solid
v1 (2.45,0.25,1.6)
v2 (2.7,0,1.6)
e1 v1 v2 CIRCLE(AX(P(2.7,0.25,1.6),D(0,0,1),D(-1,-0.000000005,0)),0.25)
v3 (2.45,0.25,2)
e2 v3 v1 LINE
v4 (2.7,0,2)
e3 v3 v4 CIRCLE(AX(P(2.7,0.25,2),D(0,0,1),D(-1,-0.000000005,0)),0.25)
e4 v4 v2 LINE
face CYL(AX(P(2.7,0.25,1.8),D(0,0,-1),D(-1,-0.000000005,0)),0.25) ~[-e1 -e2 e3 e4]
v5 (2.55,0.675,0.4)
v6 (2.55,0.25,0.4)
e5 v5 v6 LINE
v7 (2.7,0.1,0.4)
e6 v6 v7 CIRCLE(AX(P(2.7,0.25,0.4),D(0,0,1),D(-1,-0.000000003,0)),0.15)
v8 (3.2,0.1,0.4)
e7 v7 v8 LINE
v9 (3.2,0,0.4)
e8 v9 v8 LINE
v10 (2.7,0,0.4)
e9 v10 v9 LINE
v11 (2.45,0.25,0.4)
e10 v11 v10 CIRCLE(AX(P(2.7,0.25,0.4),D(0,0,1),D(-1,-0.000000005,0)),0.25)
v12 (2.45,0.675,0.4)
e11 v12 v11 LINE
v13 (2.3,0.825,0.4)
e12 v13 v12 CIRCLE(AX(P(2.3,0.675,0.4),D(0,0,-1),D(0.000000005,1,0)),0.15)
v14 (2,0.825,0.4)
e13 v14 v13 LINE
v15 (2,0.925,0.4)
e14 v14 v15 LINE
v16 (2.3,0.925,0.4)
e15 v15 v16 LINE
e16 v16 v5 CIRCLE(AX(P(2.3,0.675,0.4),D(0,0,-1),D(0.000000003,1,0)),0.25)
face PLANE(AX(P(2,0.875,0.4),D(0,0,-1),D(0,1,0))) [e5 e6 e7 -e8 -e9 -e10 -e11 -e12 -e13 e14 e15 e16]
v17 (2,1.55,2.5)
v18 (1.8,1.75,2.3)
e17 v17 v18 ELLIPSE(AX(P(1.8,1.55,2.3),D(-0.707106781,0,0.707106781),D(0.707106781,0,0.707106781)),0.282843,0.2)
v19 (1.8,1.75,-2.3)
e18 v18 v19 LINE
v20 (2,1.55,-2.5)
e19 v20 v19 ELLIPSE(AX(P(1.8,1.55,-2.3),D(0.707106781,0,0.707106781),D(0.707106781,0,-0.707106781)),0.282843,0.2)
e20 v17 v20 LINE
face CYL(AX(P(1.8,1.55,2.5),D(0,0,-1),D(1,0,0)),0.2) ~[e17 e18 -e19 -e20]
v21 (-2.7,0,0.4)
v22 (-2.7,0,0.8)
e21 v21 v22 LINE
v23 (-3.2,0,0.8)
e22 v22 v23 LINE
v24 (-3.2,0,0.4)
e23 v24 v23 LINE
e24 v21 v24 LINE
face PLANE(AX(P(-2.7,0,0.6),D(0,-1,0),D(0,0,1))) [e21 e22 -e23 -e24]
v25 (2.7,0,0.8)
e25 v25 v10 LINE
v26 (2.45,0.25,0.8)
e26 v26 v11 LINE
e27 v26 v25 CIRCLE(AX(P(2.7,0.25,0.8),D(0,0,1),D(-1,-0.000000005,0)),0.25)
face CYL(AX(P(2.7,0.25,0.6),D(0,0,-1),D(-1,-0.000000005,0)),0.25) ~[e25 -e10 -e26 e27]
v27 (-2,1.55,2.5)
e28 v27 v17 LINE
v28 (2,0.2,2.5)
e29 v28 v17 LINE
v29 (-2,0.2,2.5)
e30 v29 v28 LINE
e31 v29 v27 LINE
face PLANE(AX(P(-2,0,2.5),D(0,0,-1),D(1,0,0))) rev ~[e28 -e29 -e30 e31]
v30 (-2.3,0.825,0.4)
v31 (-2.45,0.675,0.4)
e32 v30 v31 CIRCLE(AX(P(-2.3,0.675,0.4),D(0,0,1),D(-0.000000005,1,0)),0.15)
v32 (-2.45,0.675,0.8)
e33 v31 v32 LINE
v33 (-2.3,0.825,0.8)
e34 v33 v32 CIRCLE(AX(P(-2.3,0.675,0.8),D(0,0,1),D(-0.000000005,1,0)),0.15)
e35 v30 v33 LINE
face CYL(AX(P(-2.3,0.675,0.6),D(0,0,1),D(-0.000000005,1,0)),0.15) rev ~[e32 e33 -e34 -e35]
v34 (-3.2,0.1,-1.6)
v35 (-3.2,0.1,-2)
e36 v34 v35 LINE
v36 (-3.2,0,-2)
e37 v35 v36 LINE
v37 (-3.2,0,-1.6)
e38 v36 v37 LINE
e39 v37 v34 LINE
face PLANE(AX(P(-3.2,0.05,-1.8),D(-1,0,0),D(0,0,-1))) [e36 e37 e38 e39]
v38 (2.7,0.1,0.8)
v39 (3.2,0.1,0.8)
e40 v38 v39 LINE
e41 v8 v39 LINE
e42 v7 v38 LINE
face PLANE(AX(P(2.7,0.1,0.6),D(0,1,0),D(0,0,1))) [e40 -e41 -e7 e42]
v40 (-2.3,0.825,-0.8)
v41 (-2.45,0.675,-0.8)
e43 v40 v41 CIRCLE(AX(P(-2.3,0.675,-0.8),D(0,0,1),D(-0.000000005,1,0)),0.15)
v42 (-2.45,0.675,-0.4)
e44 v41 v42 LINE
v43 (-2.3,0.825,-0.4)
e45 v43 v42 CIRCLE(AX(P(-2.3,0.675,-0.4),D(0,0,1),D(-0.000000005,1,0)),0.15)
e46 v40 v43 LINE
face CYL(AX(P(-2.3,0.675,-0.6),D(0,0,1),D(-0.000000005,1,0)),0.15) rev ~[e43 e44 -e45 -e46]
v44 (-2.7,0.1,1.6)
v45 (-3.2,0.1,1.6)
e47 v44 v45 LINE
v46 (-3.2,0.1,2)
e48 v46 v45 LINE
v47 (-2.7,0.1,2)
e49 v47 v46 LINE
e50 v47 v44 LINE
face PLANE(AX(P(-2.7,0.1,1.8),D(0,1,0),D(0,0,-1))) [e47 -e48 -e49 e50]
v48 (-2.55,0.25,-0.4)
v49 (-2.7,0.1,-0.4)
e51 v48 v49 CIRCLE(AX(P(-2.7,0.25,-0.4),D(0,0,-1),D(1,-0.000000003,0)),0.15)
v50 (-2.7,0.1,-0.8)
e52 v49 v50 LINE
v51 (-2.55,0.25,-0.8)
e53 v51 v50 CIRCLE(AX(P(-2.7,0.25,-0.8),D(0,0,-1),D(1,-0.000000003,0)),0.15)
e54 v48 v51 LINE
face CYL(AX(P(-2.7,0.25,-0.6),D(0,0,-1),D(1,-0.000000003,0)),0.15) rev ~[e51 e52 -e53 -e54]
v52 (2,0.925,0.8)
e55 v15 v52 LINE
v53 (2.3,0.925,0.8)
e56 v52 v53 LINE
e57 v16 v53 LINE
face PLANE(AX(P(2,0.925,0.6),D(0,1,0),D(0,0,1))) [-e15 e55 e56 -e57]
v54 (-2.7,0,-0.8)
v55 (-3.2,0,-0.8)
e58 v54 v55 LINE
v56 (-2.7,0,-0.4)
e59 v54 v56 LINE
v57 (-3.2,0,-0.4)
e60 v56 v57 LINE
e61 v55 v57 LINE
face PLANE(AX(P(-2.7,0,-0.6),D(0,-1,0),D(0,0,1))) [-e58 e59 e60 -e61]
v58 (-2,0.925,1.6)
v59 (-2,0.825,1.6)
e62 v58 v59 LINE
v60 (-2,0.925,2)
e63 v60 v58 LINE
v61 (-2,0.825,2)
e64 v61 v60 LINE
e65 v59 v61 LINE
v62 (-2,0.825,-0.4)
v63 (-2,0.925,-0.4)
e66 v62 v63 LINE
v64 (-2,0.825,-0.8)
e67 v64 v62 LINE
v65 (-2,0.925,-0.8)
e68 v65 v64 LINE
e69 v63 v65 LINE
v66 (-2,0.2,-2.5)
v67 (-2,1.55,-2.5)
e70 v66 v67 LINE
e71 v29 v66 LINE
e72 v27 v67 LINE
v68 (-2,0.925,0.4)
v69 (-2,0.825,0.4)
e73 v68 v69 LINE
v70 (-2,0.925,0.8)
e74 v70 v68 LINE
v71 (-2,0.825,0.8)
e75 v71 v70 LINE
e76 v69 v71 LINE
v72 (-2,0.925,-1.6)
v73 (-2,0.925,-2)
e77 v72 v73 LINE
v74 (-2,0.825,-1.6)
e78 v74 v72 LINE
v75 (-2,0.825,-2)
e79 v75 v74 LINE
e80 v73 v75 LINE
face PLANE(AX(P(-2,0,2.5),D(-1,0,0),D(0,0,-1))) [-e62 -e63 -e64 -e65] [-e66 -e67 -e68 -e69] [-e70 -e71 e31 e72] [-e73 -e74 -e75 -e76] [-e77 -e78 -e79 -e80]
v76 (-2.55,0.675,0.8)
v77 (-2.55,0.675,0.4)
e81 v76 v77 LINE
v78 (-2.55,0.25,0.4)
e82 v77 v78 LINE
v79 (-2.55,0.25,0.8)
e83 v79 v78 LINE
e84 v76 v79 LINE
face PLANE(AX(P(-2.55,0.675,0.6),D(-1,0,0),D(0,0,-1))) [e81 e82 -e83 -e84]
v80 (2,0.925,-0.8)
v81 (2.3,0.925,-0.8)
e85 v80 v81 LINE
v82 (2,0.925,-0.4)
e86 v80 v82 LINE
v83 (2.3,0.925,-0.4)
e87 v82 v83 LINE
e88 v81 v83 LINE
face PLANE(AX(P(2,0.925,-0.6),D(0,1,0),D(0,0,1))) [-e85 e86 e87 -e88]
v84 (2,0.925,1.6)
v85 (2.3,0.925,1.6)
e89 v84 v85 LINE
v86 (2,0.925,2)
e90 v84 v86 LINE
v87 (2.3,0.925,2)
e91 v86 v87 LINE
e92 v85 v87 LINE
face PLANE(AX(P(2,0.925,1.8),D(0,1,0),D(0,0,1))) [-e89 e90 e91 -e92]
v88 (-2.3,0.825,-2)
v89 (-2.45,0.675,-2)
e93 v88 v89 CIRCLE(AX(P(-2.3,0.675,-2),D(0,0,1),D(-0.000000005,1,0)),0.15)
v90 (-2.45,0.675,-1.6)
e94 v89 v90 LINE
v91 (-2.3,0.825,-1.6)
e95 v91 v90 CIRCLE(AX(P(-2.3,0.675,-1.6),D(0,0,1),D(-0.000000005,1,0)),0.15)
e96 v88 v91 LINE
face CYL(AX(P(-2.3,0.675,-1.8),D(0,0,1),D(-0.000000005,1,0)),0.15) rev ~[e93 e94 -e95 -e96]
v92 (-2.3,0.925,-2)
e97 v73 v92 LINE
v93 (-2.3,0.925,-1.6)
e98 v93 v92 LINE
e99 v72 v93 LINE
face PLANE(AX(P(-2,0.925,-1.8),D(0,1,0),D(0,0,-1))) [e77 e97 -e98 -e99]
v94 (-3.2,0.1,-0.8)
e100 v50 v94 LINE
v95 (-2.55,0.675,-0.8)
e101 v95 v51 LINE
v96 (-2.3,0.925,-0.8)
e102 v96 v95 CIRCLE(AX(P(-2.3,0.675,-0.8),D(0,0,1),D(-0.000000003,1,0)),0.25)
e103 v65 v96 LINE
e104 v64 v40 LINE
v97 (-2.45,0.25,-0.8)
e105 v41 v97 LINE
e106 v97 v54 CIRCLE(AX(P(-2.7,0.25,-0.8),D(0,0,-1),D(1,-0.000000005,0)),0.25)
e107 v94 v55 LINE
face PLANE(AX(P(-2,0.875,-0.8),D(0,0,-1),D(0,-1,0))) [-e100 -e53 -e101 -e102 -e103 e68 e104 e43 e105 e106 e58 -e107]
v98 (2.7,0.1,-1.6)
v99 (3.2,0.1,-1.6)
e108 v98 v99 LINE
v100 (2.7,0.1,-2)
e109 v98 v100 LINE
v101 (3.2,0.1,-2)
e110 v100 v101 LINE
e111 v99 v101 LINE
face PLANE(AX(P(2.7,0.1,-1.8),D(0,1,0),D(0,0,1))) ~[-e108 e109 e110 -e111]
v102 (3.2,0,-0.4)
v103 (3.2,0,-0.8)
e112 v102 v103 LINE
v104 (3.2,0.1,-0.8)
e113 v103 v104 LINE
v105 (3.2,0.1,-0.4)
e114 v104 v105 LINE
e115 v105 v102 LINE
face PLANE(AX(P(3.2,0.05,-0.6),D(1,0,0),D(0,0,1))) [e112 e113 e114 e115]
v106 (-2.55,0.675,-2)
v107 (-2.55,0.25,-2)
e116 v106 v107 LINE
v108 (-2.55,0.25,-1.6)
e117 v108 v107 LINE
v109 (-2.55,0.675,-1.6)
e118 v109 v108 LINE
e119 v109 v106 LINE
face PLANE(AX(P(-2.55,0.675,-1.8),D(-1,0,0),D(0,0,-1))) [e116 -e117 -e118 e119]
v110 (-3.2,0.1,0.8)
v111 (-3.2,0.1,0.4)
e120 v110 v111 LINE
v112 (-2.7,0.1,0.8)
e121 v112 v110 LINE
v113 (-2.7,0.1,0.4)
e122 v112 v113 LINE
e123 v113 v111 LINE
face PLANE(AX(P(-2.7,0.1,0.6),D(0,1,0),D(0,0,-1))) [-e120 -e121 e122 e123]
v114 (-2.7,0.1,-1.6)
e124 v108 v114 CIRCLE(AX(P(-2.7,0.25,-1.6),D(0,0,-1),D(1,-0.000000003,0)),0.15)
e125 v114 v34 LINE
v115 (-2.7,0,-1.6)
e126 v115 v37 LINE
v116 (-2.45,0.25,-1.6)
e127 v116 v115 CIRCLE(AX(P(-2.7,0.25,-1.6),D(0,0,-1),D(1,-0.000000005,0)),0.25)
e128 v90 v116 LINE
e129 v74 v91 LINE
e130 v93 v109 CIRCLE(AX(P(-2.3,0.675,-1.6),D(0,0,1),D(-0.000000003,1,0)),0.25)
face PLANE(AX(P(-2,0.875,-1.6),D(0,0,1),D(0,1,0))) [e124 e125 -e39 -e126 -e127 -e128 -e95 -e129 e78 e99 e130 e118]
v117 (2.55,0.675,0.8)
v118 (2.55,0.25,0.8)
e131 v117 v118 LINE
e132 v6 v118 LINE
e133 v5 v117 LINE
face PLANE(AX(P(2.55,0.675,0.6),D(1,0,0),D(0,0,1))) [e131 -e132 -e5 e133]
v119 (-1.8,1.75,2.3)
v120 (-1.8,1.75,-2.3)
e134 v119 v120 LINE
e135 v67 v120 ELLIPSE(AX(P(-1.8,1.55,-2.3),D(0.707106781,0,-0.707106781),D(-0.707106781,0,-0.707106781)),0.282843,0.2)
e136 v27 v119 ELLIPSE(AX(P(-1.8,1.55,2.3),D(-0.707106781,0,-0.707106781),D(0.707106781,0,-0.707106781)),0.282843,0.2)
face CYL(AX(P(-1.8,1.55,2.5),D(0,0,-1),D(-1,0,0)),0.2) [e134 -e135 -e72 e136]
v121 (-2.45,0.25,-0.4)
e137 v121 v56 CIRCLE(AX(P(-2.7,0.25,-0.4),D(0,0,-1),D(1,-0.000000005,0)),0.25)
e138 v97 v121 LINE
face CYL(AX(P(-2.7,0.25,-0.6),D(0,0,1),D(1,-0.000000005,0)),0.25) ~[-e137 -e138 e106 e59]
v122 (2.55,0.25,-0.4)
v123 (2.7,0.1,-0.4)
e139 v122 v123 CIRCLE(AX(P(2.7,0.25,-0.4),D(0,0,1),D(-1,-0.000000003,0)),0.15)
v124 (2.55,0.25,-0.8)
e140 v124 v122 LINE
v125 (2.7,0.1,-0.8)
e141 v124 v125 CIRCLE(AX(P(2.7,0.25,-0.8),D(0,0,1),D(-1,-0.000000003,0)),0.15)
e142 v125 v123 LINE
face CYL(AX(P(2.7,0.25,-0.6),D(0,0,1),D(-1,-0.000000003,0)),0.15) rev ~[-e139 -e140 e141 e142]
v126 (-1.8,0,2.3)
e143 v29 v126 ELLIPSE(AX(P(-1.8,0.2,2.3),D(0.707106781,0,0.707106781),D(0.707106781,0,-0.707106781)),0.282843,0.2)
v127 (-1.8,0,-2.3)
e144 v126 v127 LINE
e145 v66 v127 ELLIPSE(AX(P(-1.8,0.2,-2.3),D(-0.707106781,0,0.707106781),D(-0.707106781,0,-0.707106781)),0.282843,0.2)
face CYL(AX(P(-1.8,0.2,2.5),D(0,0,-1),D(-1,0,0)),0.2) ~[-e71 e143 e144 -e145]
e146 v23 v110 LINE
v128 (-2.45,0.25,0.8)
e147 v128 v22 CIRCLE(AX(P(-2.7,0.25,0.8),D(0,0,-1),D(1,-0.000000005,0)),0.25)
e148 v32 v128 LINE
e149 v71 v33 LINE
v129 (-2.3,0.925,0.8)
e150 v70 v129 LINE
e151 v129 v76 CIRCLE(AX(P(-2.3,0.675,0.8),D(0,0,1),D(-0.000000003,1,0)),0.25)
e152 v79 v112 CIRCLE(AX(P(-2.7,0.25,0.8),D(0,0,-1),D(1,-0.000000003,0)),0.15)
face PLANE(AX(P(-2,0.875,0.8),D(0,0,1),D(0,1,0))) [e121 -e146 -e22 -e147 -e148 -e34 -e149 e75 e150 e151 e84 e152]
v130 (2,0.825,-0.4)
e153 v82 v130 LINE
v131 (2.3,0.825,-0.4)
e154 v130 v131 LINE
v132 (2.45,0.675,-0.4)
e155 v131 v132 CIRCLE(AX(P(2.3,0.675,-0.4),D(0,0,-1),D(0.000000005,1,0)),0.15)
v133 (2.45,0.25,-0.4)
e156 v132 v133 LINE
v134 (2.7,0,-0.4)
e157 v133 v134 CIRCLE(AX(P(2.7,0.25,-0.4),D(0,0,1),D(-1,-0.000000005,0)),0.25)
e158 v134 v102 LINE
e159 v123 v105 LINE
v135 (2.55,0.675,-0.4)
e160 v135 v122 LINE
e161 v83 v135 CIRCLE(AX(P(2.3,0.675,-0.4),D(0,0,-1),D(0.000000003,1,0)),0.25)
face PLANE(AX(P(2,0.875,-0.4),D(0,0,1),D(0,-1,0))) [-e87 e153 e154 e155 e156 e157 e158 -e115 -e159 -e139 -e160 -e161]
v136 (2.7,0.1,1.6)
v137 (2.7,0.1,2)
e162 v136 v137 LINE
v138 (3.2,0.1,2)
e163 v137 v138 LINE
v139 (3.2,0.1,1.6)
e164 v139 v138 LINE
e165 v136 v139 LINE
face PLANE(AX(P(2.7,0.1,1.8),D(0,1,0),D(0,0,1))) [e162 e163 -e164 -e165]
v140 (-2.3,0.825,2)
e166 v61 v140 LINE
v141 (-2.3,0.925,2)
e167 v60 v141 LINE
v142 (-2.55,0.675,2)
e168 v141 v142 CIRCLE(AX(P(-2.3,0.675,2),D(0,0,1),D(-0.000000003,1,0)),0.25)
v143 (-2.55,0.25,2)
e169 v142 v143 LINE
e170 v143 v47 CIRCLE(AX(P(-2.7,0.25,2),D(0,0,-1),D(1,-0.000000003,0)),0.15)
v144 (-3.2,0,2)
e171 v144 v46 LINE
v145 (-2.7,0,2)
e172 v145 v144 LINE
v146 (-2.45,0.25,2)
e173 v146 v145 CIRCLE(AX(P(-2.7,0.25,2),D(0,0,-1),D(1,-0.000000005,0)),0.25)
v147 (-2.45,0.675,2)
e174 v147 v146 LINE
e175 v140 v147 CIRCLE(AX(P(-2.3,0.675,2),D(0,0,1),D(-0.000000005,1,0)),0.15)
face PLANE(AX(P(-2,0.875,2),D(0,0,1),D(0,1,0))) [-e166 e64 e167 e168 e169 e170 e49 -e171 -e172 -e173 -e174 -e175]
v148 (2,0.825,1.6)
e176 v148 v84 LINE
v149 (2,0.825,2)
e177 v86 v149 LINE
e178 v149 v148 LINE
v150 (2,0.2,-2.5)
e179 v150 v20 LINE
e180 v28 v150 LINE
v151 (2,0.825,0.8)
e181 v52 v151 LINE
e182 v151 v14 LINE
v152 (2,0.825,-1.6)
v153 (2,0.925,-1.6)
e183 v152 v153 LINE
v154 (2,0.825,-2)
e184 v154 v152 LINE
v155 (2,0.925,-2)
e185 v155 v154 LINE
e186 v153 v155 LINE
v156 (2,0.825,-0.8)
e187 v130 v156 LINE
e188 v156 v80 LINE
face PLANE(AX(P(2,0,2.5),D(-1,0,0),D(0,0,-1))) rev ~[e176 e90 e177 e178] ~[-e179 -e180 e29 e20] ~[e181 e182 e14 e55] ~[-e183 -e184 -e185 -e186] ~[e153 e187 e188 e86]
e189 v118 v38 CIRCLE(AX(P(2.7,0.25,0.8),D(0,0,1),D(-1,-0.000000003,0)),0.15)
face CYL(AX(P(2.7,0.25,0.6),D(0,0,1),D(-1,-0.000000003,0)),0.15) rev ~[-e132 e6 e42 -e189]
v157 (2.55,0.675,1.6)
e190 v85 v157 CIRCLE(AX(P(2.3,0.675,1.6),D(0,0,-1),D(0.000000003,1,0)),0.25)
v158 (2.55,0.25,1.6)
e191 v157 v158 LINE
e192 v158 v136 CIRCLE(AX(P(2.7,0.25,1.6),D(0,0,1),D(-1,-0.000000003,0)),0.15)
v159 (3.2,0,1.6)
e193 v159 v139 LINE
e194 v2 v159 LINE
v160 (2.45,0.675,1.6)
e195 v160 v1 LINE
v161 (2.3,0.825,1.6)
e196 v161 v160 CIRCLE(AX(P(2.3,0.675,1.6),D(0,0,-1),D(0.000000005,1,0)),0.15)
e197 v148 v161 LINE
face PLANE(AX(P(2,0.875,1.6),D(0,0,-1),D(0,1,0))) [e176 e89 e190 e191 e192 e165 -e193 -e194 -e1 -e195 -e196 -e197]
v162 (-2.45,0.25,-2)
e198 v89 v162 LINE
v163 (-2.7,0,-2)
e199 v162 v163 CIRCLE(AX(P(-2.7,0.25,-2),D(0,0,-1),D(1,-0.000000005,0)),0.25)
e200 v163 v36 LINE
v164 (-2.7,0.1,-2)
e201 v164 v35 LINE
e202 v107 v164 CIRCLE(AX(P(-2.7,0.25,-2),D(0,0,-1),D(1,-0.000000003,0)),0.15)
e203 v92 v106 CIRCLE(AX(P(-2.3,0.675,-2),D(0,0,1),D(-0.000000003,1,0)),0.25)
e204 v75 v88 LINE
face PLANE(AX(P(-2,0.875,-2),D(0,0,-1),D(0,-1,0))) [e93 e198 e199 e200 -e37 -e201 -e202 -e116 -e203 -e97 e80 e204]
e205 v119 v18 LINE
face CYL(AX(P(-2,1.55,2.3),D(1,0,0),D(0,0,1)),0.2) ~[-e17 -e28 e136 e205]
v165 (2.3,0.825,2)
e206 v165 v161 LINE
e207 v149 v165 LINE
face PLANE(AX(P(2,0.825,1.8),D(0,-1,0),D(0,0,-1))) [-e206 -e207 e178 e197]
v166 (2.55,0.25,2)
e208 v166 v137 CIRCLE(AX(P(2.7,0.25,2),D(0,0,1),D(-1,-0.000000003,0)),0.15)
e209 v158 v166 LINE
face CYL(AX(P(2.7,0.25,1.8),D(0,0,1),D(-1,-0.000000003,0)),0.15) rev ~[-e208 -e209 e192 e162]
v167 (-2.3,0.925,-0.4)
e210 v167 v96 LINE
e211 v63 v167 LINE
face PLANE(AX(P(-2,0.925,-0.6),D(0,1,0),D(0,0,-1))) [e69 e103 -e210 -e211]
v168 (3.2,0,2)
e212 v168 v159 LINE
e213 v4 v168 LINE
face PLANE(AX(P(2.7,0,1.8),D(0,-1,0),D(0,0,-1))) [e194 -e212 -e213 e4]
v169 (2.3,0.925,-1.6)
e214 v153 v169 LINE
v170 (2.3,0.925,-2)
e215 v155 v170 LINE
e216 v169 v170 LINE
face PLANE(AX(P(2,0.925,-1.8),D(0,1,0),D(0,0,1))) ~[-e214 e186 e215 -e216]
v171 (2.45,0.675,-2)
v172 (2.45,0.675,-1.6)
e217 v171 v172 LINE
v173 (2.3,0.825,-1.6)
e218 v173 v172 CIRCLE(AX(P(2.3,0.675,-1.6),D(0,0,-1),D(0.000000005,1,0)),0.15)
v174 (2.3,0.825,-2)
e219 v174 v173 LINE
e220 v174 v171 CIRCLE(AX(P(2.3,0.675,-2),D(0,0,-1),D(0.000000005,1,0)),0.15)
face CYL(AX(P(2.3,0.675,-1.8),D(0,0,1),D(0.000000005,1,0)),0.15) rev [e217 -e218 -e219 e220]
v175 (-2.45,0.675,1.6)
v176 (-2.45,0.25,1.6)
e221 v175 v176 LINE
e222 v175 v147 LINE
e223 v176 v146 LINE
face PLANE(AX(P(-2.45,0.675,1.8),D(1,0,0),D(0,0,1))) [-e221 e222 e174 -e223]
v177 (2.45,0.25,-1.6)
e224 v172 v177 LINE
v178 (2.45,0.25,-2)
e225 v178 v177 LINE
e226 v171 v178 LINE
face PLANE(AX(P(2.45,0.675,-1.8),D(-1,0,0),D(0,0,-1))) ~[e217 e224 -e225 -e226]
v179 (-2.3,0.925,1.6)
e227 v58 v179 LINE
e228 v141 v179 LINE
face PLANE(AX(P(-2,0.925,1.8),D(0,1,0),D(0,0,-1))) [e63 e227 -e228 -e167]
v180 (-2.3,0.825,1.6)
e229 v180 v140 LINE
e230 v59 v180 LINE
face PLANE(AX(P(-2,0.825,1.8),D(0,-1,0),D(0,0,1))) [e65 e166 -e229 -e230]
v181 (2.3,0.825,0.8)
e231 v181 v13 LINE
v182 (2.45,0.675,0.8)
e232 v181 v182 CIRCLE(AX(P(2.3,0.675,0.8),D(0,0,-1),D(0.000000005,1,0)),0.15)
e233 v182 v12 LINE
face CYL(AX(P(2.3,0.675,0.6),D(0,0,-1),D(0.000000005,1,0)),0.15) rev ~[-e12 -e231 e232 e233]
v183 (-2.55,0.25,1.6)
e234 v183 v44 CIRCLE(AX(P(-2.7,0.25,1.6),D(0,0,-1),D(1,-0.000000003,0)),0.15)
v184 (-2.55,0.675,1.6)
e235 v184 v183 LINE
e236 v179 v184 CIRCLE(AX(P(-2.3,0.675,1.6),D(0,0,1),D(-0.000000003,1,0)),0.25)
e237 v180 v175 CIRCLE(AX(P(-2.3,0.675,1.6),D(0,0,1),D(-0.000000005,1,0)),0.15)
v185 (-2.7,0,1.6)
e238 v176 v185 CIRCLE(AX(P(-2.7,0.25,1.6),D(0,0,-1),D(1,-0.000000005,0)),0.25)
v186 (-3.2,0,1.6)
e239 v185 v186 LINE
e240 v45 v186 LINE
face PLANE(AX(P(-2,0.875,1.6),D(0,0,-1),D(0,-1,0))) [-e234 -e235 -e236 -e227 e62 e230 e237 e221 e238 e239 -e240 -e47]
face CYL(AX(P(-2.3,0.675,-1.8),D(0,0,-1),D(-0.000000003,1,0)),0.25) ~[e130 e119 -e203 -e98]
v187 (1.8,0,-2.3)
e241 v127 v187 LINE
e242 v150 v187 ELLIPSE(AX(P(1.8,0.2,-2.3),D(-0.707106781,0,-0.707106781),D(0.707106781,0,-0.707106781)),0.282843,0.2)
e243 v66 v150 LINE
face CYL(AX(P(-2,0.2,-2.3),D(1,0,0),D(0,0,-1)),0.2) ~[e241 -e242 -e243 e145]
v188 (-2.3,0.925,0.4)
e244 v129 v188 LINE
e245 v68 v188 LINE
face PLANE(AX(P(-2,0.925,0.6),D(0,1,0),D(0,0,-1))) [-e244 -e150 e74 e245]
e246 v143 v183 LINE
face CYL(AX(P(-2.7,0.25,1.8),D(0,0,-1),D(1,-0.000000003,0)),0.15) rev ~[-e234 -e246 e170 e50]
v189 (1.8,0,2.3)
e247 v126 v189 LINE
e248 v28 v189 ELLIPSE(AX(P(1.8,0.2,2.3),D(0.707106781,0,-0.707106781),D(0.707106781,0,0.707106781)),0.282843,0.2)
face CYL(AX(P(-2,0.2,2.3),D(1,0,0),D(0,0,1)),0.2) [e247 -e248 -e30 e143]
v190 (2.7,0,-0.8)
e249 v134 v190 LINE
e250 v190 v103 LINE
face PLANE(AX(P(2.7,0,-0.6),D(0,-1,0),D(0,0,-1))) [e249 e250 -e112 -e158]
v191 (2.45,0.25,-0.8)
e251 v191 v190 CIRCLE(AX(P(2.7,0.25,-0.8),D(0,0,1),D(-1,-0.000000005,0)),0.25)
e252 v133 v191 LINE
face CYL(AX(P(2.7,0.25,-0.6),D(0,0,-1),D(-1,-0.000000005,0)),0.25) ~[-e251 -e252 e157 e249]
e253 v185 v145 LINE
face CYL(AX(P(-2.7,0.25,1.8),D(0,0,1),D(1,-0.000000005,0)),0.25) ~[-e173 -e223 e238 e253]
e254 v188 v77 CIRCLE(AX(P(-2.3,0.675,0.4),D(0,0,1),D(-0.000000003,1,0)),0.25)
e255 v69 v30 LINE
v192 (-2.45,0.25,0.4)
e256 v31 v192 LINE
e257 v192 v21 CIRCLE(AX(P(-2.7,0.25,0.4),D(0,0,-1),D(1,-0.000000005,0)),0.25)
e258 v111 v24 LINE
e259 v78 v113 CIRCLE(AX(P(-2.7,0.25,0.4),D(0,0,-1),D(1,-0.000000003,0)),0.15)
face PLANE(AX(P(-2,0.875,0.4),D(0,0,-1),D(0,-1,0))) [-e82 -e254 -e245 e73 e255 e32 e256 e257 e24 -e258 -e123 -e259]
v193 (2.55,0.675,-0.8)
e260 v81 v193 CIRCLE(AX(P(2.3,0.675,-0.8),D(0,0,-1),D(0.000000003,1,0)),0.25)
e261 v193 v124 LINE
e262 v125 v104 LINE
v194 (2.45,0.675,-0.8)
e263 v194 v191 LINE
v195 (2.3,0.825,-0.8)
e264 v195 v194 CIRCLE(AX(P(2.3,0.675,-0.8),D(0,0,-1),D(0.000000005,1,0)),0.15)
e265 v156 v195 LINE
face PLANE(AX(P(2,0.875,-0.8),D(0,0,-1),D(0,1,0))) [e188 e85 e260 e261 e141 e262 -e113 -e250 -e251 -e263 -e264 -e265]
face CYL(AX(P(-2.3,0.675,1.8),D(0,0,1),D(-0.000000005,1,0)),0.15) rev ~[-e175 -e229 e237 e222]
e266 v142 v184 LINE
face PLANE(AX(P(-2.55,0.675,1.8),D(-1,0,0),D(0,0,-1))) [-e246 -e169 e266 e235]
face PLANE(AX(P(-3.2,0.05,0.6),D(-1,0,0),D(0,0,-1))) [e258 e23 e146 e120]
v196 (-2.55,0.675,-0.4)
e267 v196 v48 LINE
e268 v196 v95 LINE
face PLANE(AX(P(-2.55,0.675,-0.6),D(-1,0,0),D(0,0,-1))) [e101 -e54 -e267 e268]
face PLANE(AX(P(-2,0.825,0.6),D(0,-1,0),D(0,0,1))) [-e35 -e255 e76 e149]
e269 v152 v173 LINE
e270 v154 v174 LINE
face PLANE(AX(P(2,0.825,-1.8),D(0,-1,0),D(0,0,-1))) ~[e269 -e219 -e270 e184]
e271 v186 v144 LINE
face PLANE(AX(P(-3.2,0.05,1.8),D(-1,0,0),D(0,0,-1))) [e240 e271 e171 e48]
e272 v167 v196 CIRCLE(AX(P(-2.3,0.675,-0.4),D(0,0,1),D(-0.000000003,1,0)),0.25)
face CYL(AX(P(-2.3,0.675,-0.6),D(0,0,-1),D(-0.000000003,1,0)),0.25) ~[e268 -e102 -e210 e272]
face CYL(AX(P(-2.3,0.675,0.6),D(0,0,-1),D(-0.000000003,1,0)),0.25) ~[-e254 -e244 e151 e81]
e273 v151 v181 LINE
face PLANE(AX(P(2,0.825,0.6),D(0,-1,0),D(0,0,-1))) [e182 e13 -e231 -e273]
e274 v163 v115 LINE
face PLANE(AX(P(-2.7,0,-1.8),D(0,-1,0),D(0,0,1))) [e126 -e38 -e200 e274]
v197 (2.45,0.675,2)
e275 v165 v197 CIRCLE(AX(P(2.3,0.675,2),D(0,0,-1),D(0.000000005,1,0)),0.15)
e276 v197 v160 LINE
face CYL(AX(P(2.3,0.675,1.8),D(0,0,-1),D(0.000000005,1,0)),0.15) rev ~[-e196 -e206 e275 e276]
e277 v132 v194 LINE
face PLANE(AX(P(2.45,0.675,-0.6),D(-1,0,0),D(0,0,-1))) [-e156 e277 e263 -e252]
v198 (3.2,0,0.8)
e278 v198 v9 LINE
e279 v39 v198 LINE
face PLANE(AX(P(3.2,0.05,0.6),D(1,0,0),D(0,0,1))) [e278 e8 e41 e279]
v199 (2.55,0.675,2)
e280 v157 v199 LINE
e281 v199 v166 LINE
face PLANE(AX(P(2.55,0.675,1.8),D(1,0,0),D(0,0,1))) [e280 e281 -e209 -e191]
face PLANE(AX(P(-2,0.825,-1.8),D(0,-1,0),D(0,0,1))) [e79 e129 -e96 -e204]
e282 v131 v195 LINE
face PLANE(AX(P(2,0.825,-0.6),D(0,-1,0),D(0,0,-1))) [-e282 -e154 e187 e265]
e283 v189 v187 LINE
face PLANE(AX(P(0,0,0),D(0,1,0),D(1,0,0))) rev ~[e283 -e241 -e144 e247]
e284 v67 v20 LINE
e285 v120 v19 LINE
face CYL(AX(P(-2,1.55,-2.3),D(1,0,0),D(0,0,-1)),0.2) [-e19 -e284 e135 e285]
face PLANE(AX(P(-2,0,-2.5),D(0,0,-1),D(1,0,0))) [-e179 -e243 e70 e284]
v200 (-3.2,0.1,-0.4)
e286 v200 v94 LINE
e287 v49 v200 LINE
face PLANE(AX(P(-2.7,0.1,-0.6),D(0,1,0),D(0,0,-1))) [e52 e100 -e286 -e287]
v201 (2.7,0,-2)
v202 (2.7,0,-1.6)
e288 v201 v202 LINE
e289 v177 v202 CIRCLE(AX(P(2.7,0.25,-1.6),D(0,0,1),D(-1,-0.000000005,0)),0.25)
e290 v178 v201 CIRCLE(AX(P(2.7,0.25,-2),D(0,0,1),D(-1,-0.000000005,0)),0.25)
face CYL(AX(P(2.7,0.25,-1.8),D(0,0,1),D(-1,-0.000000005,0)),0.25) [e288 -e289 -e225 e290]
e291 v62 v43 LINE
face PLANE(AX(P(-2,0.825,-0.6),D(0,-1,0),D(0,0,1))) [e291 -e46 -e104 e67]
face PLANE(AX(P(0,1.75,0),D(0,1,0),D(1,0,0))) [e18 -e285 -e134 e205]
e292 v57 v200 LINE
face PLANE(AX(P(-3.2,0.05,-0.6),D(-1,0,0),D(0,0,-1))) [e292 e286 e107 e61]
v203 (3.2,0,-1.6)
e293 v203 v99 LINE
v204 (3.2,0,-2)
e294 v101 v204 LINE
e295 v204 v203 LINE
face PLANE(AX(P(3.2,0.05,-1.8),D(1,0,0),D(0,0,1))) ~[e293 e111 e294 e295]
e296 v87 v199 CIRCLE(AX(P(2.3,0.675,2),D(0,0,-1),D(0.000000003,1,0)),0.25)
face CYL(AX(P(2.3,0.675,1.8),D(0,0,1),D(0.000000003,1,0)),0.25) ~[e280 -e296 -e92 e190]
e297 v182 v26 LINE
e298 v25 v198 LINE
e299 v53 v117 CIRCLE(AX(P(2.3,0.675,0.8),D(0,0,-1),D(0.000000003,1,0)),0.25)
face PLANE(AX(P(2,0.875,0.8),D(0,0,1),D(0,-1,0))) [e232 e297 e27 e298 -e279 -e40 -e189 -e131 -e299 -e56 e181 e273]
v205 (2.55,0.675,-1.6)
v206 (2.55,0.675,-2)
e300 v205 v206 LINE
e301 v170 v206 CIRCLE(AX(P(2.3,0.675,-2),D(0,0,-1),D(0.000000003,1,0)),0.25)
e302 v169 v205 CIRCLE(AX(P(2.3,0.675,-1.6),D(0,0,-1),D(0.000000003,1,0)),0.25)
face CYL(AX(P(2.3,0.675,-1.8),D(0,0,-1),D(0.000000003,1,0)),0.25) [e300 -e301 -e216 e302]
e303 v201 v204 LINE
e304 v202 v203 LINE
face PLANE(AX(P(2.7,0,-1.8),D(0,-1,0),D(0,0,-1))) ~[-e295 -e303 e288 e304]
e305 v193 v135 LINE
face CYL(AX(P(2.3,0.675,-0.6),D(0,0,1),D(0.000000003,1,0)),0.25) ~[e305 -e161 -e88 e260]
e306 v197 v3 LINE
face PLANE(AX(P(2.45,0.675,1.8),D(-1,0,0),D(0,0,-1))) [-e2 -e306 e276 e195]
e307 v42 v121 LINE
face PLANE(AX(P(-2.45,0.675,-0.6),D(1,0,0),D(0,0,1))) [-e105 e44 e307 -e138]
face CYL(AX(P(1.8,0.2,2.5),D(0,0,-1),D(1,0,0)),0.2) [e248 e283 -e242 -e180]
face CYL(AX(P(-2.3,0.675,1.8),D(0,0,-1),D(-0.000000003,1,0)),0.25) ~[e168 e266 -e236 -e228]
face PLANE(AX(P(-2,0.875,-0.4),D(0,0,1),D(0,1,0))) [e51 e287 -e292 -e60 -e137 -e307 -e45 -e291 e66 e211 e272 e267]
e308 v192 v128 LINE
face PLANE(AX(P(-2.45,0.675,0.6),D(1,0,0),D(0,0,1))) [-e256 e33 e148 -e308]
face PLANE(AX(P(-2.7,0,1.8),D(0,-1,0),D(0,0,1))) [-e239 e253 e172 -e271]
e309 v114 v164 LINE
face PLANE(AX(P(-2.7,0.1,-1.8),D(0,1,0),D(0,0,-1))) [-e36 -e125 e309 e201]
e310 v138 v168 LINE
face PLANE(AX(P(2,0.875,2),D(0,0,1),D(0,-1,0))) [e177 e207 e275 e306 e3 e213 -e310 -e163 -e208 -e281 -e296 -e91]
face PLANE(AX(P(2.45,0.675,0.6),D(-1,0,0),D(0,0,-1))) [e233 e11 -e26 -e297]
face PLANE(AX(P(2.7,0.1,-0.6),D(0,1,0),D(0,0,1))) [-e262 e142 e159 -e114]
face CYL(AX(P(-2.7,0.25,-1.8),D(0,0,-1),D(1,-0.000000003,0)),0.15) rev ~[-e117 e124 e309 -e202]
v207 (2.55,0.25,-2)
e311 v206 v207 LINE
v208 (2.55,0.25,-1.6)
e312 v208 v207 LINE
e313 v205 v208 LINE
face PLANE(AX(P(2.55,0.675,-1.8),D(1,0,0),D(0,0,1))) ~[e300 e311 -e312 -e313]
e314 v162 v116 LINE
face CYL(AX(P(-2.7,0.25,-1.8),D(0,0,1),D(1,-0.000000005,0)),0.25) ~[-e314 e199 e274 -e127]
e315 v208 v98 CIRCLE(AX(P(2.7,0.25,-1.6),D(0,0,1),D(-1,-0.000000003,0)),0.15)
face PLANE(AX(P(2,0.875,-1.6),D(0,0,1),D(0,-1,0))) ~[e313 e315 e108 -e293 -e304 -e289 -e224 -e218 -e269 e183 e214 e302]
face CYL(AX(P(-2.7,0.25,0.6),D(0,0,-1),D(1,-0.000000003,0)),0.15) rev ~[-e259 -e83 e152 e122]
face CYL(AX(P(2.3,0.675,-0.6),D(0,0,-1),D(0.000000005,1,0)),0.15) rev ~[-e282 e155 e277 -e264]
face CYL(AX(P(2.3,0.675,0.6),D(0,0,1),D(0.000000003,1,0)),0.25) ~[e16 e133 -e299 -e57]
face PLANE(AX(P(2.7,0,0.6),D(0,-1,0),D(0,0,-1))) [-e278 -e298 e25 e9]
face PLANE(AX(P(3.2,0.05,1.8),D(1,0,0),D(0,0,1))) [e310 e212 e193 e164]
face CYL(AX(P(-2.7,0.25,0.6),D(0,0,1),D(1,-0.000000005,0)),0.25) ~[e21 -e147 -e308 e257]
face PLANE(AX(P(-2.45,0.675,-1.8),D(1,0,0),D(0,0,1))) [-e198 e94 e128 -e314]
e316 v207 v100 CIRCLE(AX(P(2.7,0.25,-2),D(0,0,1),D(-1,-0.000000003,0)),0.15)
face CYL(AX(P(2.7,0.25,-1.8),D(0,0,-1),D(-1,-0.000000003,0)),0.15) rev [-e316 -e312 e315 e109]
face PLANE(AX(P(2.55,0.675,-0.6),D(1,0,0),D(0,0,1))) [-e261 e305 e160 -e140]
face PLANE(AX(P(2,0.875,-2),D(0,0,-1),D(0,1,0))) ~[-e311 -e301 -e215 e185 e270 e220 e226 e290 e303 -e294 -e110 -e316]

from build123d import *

# Parameters (mm, degrees)
SKETCH1_W               = 4
SKETCH1_H               = 5
BOSS_EXTRUDE1_DEPTH     = 1.75
FILLET1_R               = 0.2
SKETCH3_W               = 0.4
SKETCH3_H               = 0.1
LPATTERN1_COUNT         = 4
LPATTERN1_PITCH         = 1.2
MIRROR1_COPY_1_SKETCH_W = 0.4
MIRROR1_COPY_1_SKETCH_H = 0.1
MIRROR1_COPY_2_SKETCH_W = 0.4
MIRROR1_COPY_2_SKETCH_H = 0.1
MIRROR1_COPY_3_SKETCH_W = 0.4
MIRROR1_COPY_3_SKETCH_H = 0.1


with BuildPart() as part:
    # Sketch1 → Boss-Extrude1 (new body)
    with BuildSketch(Plane(origin=(0, 0, 0), x_dir=(1, 0, 0), z_dir=(0, 1, 0))):
        Rectangle(SKETCH1_W, SKETCH1_H)
    extrude(amount=BOSS_EXTRUDE1_DEPTH)

    # Fillet1
    fillet1_edges = [part.edges().sort_by_distance(p)[0] for p in [
        (-2, 1.75, 0),
        (0, 1.75, 2.5),
        (2, 1.75, 0),
        (0, 0, 2.5),
        (-2, 0, 0),
        (0, 0, -2.5),
        (2, 0, 0),
        (0, 1.75, -2.5),
    ]]
    fillet(fillet1_edges, radius=FILLET1_R)

    # Sweep1: sweep along a path in Sketch2
    with BuildLine(Plane(origin=(0, 0, -1.8), x_dir=(-1, 0, 0), z_dir=(0, 0, -1))) as sweep1_path:
        Line((2, 0.875), (2.3, 0.875))
        ThreePointArc((2.3, 0.875), (2.441421356, 0.816421356), (2.5, 0.675))
        Line((2.5, 0.675), (2.5, 0.25))
        ThreePointArc((2.5, 0.25), (2.558578644, 0.108578644), (2.7, 0.05))
        Line((2.7, 0.05), (3.2, 0.05))
    # Sketch3 → Sweep1 (sweep)
    with BuildSketch(Plane.ZY.offset(2)):
        with Locations((-1.8, 0.875)):
            Rectangle(SKETCH3_W, SKETCH3_H)
    sweep1 = sweep(path=sweep1_path.line)

    # LPattern1: Sweep1 ×4
    with Locations(*[(0, 0, i * LPATTERN1_PITCH) for i in range(1, LPATTERN1_COUNT)]):
        add(sweep1)

    # Mirror1: Sweep1 across plane
    add(sweep1.mirror(Plane(origin=(0, 0, 0), x_dir=(0, 0, 1), z_dir=(1, 0, 0))))

    # Mirror1 copy 1: sweep along a path in Mirror1 copy 1 path
    with BuildLine(Plane(origin=(0, 0, -0.6), x_dir=(1, 0, 0), z_dir=(0, 0, -1))) as mirror1_copy_1_path:
        Line((2, -0.875), (2.3, -0.875))
        ThreePointArc((2.3, -0.875), (2.441421356, -0.816421356), (2.5, -0.675))
        Line((2.5, -0.675), (2.5, -0.25))
        ThreePointArc((2.5, -0.25), (2.558578644, -0.108578644), (2.7, -0.05))
        Line((2.7, -0.05), (3.2, -0.05))
    # Mirror1 copy 1 sketch → Mirror1 copy 1 (sweep)
    with BuildSketch(Plane(origin=(2, 0, 1.2), x_dir=(0, 0, 1), z_dir=(1, 0, 0))):
        with Locations((-1.8, -0.875)):
            Rectangle(MIRROR1_COPY_1_SKETCH_W, MIRROR1_COPY_1_SKETCH_H)
    sweep(path=mirror1_copy_1_path.line)

    # Mirror1 copy 2: sweep along a path in Mirror1 copy 2 path
    with BuildLine(Plane(origin=(0, 0, 0.6), x_dir=(1, 0, 0), z_dir=(0, 0, -1))) as mirror1_copy_2_path:
        Line((2, -0.875), (2.3, -0.875))
        ThreePointArc((2.3, -0.875), (2.441421356, -0.816421356), (2.5, -0.675))
        Line((2.5, -0.675), (2.5, -0.25))
        ThreePointArc((2.5, -0.25), (2.558578644, -0.108578644), (2.7, -0.05))
        Line((2.7, -0.05), (3.2, -0.05))
    # Mirror1 copy 2 sketch → Mirror1 copy 2 (sweep)
    with BuildSketch(Plane(origin=(2, 0, 2.4), x_dir=(0, 0, 1), z_dir=(1, 0, 0))):
        with Locations((-1.8, -0.875)):
            Rectangle(MIRROR1_COPY_2_SKETCH_W, MIRROR1_COPY_2_SKETCH_H)
    sweep(path=mirror1_copy_2_path.line)

    # Mirror1 copy 3: sweep along a path in Mirror1 copy 3 path
    with BuildLine(Plane(origin=(0, 0, 1.8), x_dir=(1, 0, 0), z_dir=(0, 0, -1))) as mirror1_copy_3_path:
        Line((2, -0.875), (2.3, -0.875))
        ThreePointArc((2.3, -0.875), (2.441421356, -0.816421356), (2.5, -0.675))
        Line((2.5, -0.675), (2.5, -0.25))
        ThreePointArc((2.5, -0.25), (2.558578644, -0.108578644), (2.7, -0.05))
        Line((2.7, -0.05), (3.2, -0.05))
    # Mirror1 copy 3 sketch → Mirror1 copy 3 (sweep)
    with BuildSketch(Plane(origin=(2, 0, 3.6), x_dir=(0, 0, 1), z_dir=(1, 0, 0))):
        with Locations((-1.8, -0.875)):
            Rectangle(MIRROR1_COPY_3_SKETCH_W, MIRROR1_COPY_3_SKETCH_H)
    sweep(path=mirror1_copy_3_path.line)


solid = part.part
